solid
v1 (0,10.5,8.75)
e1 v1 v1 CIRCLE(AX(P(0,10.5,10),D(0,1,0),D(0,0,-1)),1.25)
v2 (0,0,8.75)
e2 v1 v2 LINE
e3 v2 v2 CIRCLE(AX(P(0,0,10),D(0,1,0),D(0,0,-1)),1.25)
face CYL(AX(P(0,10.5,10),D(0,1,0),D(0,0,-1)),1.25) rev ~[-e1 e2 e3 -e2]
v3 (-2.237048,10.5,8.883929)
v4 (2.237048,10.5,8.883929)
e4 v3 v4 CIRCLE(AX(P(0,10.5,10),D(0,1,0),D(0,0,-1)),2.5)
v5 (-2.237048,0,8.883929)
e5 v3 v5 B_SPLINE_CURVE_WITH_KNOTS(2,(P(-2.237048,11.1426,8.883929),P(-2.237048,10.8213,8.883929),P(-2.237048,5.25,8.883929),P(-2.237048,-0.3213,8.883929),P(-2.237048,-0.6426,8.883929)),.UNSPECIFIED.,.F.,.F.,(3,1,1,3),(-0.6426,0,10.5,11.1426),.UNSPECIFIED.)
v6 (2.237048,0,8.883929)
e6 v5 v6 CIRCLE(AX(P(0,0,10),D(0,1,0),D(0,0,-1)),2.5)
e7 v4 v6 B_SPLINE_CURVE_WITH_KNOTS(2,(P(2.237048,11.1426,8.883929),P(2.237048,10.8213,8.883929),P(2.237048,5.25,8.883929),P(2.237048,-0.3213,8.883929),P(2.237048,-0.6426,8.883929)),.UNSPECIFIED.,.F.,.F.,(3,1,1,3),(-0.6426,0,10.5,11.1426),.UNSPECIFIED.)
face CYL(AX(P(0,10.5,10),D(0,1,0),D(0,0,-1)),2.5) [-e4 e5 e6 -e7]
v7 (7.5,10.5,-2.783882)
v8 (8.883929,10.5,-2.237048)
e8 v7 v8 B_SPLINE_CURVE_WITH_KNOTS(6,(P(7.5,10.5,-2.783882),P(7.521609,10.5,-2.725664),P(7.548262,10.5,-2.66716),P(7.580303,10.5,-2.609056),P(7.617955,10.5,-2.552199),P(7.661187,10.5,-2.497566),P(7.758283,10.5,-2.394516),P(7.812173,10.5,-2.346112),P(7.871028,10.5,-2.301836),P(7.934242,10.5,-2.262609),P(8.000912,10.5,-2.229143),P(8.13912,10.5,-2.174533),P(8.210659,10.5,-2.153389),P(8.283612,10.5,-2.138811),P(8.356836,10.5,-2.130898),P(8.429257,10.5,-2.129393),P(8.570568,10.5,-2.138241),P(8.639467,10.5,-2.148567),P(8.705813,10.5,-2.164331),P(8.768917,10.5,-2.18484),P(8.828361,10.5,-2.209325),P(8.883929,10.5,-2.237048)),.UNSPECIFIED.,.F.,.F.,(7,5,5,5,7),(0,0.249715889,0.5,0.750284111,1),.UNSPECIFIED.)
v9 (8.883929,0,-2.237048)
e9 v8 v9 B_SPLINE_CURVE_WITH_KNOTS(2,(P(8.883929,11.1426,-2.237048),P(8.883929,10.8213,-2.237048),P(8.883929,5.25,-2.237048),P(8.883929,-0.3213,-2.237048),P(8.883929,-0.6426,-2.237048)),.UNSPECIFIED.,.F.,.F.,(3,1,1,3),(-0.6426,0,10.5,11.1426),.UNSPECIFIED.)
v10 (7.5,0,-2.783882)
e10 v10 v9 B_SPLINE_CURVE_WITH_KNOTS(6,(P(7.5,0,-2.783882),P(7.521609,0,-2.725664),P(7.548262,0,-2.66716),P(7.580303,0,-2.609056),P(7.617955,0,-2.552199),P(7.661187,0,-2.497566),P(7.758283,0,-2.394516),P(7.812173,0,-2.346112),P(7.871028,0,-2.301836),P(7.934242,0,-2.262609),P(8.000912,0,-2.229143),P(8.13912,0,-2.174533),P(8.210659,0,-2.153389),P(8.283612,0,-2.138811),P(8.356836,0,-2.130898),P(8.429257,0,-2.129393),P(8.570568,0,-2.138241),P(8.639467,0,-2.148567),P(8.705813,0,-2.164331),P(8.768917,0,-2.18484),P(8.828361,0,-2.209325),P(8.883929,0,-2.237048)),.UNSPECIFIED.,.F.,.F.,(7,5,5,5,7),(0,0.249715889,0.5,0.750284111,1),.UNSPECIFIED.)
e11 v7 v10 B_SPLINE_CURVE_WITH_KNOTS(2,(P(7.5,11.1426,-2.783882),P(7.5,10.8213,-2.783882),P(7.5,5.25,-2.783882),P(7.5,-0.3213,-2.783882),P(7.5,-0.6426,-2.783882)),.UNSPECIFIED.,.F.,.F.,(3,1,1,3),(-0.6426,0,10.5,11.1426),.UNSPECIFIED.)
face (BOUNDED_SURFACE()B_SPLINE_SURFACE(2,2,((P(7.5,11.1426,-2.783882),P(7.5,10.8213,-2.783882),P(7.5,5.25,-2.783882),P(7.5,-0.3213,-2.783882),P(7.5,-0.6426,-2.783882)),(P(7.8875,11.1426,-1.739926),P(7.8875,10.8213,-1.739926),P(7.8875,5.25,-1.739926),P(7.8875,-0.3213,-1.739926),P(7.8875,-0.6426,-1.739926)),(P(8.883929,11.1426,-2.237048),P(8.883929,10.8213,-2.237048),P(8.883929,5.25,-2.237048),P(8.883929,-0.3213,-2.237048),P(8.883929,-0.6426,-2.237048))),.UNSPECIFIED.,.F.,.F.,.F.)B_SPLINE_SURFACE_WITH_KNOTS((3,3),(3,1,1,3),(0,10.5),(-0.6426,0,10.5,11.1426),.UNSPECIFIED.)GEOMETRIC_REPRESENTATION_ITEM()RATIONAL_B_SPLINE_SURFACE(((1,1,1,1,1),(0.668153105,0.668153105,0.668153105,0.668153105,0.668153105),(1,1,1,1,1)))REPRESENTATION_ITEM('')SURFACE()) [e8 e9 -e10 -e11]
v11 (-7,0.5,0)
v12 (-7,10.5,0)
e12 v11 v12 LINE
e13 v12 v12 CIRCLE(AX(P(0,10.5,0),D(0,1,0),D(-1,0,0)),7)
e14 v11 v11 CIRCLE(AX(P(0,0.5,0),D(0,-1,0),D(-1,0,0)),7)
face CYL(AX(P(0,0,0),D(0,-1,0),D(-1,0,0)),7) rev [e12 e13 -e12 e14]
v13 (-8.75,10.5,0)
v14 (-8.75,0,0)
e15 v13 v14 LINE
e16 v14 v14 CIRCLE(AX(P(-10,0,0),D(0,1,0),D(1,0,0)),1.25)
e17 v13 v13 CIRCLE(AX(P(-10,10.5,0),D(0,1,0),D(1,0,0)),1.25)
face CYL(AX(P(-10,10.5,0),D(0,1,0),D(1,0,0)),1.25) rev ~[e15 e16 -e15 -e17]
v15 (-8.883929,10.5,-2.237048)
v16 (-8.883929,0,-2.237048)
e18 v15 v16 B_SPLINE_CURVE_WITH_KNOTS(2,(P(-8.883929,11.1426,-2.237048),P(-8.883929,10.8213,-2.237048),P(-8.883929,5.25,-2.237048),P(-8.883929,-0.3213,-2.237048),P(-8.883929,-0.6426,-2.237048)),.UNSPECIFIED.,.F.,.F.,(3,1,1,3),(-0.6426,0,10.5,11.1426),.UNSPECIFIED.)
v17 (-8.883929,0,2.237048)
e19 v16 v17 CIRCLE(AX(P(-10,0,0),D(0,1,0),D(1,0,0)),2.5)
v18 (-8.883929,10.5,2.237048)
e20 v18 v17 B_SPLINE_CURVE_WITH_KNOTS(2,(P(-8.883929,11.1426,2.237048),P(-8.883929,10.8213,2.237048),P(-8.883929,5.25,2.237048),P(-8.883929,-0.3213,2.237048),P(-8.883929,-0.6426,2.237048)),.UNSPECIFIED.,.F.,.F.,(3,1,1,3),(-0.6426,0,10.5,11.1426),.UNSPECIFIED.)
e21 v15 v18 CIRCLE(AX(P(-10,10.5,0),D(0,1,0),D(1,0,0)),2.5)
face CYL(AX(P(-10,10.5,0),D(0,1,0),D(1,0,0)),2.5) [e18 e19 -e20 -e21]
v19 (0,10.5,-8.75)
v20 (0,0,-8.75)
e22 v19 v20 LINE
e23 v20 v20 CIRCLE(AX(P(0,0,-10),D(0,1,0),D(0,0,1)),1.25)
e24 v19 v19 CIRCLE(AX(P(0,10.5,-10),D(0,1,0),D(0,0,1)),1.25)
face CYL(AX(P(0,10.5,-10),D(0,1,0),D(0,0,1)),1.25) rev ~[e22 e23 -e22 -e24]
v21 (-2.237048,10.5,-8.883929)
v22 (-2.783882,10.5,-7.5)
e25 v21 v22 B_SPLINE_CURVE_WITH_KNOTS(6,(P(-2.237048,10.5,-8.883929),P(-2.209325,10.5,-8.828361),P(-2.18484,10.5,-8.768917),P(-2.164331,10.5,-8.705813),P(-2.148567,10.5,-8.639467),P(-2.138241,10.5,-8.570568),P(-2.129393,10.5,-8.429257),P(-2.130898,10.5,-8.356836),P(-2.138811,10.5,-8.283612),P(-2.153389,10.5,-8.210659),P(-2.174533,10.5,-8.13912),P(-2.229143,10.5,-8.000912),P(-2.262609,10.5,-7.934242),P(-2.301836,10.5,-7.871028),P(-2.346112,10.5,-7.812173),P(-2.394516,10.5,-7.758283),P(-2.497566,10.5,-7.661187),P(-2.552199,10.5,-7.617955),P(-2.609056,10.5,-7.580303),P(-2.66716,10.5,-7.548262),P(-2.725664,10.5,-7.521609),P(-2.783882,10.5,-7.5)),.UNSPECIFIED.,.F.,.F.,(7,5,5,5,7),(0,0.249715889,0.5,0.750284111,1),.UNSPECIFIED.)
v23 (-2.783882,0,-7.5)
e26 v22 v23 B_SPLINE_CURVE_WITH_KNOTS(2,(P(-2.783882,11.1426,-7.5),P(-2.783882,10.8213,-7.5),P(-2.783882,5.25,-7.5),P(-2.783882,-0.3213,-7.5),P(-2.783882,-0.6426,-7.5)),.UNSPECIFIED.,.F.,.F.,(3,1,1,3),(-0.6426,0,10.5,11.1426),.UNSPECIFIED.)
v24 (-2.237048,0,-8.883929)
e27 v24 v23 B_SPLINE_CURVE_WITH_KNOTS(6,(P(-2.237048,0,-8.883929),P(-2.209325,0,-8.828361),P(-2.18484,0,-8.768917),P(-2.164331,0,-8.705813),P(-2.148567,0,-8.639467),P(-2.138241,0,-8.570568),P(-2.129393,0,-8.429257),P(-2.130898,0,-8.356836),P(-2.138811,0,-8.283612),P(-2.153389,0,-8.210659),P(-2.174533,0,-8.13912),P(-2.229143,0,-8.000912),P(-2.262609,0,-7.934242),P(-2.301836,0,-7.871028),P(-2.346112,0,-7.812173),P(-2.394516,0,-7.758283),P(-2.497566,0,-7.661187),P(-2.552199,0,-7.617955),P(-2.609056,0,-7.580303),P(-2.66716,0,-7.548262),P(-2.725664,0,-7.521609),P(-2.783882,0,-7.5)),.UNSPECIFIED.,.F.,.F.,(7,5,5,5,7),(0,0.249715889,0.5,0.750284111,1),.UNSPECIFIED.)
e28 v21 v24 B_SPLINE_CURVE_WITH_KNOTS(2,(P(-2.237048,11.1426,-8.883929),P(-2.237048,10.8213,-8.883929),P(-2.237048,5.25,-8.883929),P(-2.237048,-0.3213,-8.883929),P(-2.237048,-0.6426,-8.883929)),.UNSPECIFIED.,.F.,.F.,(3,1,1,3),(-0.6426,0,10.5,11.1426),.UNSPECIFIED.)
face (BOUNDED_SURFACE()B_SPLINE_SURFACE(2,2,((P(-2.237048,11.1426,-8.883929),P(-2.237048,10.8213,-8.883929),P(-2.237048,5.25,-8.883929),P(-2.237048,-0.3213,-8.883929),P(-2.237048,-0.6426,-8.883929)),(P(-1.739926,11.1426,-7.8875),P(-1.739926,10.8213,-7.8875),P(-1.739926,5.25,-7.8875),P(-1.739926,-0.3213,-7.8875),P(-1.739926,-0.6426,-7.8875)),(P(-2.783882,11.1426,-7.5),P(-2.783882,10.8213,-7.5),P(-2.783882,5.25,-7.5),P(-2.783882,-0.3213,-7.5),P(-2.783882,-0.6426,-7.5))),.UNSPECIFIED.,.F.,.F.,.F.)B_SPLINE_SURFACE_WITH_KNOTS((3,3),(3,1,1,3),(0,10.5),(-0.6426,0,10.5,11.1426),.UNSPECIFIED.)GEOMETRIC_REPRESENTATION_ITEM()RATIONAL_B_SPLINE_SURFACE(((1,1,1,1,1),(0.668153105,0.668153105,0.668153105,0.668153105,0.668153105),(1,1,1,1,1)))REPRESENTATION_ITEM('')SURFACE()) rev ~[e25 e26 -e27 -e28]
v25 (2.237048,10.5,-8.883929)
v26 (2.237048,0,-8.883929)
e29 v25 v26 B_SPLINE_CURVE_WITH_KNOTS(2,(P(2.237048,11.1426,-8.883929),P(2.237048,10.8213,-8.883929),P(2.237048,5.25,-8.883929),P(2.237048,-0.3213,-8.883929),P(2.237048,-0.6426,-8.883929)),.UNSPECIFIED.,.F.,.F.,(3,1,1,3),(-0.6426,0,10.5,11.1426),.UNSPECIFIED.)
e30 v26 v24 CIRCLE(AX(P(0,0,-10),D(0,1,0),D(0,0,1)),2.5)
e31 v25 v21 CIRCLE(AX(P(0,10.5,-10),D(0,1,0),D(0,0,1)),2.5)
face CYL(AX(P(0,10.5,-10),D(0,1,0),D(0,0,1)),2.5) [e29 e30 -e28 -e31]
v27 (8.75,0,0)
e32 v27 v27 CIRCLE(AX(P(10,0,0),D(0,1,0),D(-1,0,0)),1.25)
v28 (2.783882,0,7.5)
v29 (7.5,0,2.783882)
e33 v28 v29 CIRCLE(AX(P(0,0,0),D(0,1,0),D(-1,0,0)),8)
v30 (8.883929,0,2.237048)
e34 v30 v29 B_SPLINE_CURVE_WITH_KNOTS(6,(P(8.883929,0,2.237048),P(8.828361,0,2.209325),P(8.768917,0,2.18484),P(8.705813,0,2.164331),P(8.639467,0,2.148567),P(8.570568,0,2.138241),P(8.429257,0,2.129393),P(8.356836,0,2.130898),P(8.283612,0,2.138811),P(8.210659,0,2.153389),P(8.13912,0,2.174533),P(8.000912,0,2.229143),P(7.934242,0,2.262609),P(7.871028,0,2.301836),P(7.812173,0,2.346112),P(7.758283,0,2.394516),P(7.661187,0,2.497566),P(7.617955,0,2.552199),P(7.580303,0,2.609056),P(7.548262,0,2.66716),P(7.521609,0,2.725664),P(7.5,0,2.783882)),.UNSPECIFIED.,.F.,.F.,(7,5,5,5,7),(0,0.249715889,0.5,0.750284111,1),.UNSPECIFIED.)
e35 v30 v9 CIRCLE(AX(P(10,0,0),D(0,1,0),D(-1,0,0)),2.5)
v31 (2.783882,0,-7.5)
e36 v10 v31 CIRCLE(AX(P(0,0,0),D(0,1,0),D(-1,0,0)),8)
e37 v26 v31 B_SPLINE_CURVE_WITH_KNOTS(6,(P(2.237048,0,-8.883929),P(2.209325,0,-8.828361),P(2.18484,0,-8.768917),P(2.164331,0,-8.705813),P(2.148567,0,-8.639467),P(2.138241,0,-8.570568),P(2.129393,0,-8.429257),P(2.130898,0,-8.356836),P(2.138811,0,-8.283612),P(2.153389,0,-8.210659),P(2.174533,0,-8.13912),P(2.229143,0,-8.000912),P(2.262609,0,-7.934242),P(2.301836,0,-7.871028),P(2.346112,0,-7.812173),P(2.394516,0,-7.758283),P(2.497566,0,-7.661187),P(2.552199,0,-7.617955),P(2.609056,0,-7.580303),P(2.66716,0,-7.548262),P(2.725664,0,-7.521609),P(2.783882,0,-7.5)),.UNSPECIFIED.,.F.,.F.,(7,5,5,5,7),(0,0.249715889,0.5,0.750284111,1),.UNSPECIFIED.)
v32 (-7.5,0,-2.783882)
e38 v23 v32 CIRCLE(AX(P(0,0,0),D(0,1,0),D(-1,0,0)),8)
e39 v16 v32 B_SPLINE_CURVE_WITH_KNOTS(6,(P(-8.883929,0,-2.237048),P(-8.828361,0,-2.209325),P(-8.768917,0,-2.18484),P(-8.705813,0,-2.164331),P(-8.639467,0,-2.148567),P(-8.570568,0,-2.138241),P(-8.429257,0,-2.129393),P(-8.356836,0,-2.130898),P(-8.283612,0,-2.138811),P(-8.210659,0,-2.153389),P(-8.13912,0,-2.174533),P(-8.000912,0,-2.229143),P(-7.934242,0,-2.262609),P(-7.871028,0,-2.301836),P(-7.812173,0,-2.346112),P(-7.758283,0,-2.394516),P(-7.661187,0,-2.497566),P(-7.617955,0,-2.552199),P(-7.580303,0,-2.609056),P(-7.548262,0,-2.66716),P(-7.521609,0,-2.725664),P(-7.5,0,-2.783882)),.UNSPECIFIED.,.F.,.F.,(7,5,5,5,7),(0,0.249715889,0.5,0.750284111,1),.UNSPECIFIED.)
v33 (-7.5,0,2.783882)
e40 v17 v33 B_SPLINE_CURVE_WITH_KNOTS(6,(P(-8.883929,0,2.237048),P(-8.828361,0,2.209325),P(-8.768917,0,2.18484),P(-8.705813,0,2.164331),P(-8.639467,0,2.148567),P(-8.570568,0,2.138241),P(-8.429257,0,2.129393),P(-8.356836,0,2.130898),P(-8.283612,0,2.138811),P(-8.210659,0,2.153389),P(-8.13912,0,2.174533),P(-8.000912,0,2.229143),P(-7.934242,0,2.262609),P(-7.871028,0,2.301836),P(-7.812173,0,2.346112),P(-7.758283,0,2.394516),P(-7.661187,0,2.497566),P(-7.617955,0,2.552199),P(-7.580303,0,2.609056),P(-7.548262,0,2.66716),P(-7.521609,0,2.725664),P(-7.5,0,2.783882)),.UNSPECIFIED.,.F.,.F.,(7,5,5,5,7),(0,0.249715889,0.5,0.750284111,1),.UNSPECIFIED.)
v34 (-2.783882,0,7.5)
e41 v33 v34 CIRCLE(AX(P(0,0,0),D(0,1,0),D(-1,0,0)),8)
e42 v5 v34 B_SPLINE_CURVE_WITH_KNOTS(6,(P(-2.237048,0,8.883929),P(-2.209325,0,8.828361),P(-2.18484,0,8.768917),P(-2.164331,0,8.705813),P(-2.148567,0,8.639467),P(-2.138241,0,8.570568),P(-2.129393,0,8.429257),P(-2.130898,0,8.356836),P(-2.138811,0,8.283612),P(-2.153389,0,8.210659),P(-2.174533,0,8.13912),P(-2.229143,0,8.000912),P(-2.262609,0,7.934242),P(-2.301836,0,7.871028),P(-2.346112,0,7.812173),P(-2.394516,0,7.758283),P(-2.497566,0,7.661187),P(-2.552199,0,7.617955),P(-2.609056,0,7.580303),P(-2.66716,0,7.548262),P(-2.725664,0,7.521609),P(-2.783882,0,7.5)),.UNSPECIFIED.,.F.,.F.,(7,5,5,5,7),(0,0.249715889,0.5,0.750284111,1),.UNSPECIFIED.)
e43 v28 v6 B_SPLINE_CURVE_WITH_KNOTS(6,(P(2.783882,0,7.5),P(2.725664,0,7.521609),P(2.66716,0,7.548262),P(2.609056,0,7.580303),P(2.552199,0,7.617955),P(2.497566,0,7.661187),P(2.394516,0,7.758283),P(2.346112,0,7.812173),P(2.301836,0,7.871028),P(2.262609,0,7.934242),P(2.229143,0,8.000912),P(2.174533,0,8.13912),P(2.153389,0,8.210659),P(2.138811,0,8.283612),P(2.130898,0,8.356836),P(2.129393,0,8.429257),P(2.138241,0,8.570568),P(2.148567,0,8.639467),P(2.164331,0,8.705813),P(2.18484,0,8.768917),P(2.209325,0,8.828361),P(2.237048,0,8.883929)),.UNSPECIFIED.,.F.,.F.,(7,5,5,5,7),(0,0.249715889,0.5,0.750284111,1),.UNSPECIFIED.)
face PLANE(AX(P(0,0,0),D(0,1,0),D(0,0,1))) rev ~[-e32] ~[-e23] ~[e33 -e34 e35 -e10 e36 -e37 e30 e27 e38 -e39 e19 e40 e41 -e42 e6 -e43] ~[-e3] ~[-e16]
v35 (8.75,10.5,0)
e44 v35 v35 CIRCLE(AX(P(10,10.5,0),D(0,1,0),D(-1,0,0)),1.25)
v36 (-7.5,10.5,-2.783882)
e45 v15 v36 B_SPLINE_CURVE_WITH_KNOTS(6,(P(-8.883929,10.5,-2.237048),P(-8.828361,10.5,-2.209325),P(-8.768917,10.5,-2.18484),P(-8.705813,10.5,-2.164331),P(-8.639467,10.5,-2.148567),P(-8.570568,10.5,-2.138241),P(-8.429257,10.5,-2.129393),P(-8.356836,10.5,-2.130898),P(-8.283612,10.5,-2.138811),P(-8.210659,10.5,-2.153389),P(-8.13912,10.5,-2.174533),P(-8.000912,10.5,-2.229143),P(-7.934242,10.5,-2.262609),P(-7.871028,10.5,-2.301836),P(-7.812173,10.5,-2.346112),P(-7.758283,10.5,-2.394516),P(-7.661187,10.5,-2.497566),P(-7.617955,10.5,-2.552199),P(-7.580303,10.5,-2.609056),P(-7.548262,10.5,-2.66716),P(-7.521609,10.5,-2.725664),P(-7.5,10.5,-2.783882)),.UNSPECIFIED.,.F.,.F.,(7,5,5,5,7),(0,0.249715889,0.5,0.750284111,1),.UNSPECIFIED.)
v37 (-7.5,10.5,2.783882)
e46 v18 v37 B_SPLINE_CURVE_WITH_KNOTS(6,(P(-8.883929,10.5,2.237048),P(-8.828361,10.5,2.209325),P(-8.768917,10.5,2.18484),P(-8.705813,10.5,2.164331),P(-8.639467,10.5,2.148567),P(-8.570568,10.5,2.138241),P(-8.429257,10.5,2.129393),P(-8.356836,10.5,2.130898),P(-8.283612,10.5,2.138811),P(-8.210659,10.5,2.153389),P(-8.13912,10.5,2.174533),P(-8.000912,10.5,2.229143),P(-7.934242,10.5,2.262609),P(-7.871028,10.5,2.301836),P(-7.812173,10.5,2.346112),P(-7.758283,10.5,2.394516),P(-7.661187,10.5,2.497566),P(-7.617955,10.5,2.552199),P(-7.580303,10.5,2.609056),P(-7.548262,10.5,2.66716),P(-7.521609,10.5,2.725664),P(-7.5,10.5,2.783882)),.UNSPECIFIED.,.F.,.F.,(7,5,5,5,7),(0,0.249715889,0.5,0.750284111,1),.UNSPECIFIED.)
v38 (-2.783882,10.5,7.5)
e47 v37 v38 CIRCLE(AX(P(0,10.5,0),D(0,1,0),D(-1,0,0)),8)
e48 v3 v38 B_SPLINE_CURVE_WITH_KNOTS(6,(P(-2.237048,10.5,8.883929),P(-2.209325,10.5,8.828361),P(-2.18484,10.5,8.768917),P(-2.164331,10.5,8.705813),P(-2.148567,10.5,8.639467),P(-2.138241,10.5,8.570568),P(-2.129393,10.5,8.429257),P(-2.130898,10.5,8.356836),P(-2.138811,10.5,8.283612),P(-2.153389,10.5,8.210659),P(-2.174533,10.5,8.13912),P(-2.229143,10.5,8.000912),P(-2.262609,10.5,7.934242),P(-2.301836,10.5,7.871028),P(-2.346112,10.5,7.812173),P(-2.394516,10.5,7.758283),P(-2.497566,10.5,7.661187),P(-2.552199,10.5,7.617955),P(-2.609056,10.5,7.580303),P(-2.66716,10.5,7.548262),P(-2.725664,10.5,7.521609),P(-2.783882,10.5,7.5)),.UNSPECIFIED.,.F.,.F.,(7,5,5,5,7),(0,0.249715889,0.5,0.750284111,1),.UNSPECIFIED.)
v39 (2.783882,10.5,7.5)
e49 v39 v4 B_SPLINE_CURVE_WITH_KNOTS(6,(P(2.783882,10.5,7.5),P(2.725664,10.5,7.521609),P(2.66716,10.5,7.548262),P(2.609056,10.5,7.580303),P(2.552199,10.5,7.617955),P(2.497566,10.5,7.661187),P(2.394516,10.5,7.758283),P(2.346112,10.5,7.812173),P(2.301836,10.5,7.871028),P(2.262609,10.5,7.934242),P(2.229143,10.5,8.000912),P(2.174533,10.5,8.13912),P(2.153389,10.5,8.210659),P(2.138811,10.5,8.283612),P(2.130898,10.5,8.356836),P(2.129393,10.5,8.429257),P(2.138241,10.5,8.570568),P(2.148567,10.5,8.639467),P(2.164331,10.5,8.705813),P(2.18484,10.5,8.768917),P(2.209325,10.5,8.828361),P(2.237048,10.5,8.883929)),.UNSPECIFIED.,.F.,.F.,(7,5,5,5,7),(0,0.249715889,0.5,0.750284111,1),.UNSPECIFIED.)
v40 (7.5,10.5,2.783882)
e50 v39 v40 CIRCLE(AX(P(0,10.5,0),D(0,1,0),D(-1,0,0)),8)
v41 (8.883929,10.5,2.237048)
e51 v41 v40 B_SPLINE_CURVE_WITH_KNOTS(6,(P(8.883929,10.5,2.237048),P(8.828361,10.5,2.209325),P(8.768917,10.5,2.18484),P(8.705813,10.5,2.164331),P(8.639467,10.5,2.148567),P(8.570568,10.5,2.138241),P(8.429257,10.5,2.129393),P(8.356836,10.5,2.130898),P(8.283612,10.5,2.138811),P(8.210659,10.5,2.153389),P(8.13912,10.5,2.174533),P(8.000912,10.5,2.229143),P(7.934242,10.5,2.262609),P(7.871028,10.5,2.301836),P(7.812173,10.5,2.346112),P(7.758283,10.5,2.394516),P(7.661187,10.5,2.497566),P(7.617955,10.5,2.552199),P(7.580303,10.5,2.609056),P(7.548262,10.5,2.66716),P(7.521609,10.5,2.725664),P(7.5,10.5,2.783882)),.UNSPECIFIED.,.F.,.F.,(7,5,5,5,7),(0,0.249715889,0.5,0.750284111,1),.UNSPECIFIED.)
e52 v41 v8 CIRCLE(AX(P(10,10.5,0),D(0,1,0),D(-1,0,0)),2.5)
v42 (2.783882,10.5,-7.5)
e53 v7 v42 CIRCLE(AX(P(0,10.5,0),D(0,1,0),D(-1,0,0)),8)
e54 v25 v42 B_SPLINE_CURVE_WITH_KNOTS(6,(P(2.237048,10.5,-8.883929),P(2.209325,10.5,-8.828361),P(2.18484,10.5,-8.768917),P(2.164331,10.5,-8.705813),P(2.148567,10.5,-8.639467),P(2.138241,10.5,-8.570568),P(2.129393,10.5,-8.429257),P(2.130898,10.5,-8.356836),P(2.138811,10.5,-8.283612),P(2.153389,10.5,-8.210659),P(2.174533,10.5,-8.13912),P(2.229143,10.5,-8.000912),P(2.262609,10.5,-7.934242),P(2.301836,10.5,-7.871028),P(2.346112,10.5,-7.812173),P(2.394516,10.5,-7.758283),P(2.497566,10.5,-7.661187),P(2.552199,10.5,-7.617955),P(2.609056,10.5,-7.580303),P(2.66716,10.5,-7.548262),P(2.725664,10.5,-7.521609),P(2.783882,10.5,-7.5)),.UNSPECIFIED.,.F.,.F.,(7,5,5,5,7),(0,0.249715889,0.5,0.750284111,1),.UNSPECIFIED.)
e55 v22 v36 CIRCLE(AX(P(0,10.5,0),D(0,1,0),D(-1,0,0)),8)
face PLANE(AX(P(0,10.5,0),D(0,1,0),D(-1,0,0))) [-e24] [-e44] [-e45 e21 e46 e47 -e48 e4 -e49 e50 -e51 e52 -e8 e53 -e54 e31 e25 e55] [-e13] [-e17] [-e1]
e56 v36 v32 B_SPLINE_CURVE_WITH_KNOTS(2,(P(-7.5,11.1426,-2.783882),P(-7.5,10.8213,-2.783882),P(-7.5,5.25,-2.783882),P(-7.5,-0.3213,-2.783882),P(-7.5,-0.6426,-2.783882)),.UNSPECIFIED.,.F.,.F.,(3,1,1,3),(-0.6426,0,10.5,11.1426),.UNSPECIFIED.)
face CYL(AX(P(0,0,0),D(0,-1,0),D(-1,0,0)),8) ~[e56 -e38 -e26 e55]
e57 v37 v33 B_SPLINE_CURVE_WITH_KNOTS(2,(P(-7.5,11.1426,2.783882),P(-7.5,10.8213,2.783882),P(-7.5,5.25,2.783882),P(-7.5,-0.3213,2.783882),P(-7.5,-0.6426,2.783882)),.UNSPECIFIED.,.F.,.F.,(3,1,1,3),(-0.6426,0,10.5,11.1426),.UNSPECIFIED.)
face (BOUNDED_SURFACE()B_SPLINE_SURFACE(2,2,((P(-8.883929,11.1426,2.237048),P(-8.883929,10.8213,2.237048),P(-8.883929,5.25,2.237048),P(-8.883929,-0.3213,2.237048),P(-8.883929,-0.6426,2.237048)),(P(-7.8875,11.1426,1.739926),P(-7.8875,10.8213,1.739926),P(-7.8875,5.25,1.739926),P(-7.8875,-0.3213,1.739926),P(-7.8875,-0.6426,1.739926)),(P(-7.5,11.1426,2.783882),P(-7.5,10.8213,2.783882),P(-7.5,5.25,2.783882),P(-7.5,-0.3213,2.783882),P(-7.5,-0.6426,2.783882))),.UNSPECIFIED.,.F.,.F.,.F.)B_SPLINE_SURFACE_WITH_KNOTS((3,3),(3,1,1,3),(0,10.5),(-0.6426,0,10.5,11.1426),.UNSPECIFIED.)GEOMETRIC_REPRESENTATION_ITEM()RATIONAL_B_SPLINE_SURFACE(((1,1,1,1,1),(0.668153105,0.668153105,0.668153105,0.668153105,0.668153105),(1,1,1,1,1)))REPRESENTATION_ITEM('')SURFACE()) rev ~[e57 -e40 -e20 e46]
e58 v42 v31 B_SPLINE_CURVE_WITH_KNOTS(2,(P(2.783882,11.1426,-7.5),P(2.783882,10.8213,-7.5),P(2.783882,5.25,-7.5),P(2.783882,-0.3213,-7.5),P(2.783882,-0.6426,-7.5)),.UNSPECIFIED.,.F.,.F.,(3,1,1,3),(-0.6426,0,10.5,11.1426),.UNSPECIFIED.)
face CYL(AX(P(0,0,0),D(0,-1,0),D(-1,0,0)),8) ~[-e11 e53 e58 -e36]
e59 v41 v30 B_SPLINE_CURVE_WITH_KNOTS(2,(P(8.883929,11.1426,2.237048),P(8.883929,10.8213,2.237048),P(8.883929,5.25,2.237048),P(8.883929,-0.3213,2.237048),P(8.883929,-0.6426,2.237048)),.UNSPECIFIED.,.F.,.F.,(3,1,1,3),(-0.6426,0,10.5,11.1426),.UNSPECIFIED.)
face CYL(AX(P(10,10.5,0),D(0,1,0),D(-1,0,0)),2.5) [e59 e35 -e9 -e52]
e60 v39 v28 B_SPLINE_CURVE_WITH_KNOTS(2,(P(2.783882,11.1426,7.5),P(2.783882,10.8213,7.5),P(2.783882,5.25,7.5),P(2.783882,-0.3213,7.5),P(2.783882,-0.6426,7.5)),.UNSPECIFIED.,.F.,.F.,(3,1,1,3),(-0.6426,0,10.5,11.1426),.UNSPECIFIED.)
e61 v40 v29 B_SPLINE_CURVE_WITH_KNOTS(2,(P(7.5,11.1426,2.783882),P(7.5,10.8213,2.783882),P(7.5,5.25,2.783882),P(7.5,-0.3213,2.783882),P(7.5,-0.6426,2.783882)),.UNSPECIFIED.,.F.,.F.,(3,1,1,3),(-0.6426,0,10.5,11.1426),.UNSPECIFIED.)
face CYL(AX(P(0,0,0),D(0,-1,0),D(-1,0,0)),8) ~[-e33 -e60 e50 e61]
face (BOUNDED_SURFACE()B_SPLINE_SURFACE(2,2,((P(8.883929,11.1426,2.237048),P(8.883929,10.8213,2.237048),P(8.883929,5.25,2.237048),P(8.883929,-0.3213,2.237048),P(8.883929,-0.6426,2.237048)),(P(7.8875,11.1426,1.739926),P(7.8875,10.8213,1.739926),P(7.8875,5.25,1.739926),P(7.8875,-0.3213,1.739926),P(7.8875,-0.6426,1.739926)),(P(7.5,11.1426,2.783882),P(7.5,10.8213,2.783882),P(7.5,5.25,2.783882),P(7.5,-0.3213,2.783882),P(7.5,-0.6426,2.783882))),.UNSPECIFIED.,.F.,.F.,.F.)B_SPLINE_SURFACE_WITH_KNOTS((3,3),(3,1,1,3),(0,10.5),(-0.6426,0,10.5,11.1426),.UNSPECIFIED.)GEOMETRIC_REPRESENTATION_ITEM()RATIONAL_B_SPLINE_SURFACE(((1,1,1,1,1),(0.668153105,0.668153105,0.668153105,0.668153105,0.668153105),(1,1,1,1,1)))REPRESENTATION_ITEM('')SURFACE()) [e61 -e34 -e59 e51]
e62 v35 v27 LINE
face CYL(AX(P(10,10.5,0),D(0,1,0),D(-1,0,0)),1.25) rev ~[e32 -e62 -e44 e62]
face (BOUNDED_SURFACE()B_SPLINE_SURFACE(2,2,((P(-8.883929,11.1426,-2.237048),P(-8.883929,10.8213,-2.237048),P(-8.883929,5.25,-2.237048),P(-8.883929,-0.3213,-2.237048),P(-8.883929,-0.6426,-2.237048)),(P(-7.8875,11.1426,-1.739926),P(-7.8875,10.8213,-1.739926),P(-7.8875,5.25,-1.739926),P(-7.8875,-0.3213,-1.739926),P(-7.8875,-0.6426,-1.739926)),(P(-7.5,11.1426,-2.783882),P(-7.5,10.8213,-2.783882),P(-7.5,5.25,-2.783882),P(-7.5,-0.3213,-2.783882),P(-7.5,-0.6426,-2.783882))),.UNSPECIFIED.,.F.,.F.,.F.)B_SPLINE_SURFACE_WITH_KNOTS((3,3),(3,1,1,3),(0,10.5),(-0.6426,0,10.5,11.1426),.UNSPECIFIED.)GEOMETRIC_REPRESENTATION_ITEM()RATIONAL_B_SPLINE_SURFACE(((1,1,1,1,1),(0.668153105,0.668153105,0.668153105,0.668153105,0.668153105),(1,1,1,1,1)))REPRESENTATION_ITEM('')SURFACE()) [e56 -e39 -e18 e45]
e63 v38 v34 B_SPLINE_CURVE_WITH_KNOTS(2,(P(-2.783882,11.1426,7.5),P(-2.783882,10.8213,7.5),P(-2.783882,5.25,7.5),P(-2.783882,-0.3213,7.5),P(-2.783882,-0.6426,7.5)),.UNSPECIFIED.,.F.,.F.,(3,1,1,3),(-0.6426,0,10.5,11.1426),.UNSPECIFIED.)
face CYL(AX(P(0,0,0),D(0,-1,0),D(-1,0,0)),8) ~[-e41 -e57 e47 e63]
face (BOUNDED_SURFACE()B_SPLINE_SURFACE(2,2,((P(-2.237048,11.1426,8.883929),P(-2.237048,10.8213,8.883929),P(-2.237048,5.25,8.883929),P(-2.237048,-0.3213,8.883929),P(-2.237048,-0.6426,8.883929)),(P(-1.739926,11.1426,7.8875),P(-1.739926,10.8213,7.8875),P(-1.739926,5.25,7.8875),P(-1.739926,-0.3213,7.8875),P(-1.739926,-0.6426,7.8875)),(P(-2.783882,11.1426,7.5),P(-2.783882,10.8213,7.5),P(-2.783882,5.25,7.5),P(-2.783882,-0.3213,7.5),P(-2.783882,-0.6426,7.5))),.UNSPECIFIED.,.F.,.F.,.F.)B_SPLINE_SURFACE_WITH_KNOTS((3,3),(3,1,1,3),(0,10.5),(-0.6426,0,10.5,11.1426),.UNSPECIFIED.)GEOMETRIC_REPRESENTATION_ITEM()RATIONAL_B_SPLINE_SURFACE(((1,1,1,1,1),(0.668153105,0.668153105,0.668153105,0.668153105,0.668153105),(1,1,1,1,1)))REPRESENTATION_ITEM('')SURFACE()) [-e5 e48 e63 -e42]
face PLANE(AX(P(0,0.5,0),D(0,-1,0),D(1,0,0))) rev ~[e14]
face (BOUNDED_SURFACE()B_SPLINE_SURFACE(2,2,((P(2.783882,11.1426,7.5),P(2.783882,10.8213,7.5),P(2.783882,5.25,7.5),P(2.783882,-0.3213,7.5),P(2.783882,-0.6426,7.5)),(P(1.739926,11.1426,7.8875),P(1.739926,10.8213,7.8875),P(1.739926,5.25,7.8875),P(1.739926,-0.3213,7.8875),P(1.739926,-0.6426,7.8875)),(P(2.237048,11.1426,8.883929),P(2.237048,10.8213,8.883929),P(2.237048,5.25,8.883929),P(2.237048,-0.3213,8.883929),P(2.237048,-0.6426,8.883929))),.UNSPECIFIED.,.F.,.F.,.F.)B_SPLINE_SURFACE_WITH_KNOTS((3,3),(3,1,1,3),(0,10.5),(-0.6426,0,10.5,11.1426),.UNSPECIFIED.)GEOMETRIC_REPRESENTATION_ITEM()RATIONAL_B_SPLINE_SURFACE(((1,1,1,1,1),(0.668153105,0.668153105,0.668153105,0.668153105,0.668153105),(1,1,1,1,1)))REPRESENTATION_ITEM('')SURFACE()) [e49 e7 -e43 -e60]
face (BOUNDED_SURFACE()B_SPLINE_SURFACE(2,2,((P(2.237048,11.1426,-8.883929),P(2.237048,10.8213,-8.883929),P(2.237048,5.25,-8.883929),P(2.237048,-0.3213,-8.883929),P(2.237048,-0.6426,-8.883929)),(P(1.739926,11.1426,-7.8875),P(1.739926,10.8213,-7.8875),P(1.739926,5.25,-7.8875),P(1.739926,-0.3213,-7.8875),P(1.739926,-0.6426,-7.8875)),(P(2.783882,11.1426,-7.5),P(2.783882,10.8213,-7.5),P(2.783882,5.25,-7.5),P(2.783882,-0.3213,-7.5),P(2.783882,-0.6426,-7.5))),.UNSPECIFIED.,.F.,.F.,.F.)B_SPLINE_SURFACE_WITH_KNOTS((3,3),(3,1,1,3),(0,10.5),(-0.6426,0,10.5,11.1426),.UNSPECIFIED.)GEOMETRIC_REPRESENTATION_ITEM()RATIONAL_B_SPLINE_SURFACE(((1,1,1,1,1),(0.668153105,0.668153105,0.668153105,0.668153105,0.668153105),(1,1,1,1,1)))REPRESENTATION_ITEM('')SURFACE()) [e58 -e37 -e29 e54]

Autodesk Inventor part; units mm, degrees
ref_plane "YZ Plane" through (0, 0, 0) normal (1, 0, 0) x (0, 1, 0)
ref_plane "XZ Plane" through (0, 0, 0) normal (0, 1, 0) x (-1, 0, 0)
ref_plane "XY Plane" through (0, 0, 0) normal (0, 0, 1) x (1, 0, 0)
sketch "Sketch1" plane through (0, 0, 0) normal (0, 1, 0) x (-1, 0, 0)
  circle A0 centre (0, 0) radius 7
  circle A1 centre (0, 0) radius 8
  dimension "d0" = 14
  dimension "d1" = 1
extrude "Extrusion1" add sketch "Sketch1" along normal blind 10.5
sketch "Sketch2" plane through (0, 0, 0) normal (0, -1, 0) x (1, 0, 0)
  circle A0 centre (0, 0) radius 8
extrude "Extrusion2" add sketch "Sketch2" against normal blind 0.5
sketch "Sketch4" plane through (0, 10.5, 0) normal (0, 1, 0) x (1, 0, 0)
  circle A0 centre (-10, 0) radius 1.25
  circle A1 centre (-10, 0) radius 2.5
  point P0 (0, 0)
  dimension "d6" = 5
  dimension "d7" = 2.5
  dimension "d8" = 10
extrude "Extrusion3" add sketch "Sketch4" against normal up to surface (10.5 mm away)
pattern_circular "Circular Pattern1" count 4 over 360 about axis through (0, 0, 0) along (0, 1, 0) of "Extrusion3"
fillet "Fillet1" radius 1 8 edges at (7.8875, 5.25, -1.3369) (7.8875, 5.25, 1.3369) (1.3369, 5.25, 7.8875) (-1.3369, 5.25, 7.8875) (-7.8875, 5.25, 1.3369) (-7.8875, 5.25, -1.3369) (-1.3369, 5.25, -7.8875) (1.3369, 5.25, -7.8875)
properties part number "PDMS_insert"
